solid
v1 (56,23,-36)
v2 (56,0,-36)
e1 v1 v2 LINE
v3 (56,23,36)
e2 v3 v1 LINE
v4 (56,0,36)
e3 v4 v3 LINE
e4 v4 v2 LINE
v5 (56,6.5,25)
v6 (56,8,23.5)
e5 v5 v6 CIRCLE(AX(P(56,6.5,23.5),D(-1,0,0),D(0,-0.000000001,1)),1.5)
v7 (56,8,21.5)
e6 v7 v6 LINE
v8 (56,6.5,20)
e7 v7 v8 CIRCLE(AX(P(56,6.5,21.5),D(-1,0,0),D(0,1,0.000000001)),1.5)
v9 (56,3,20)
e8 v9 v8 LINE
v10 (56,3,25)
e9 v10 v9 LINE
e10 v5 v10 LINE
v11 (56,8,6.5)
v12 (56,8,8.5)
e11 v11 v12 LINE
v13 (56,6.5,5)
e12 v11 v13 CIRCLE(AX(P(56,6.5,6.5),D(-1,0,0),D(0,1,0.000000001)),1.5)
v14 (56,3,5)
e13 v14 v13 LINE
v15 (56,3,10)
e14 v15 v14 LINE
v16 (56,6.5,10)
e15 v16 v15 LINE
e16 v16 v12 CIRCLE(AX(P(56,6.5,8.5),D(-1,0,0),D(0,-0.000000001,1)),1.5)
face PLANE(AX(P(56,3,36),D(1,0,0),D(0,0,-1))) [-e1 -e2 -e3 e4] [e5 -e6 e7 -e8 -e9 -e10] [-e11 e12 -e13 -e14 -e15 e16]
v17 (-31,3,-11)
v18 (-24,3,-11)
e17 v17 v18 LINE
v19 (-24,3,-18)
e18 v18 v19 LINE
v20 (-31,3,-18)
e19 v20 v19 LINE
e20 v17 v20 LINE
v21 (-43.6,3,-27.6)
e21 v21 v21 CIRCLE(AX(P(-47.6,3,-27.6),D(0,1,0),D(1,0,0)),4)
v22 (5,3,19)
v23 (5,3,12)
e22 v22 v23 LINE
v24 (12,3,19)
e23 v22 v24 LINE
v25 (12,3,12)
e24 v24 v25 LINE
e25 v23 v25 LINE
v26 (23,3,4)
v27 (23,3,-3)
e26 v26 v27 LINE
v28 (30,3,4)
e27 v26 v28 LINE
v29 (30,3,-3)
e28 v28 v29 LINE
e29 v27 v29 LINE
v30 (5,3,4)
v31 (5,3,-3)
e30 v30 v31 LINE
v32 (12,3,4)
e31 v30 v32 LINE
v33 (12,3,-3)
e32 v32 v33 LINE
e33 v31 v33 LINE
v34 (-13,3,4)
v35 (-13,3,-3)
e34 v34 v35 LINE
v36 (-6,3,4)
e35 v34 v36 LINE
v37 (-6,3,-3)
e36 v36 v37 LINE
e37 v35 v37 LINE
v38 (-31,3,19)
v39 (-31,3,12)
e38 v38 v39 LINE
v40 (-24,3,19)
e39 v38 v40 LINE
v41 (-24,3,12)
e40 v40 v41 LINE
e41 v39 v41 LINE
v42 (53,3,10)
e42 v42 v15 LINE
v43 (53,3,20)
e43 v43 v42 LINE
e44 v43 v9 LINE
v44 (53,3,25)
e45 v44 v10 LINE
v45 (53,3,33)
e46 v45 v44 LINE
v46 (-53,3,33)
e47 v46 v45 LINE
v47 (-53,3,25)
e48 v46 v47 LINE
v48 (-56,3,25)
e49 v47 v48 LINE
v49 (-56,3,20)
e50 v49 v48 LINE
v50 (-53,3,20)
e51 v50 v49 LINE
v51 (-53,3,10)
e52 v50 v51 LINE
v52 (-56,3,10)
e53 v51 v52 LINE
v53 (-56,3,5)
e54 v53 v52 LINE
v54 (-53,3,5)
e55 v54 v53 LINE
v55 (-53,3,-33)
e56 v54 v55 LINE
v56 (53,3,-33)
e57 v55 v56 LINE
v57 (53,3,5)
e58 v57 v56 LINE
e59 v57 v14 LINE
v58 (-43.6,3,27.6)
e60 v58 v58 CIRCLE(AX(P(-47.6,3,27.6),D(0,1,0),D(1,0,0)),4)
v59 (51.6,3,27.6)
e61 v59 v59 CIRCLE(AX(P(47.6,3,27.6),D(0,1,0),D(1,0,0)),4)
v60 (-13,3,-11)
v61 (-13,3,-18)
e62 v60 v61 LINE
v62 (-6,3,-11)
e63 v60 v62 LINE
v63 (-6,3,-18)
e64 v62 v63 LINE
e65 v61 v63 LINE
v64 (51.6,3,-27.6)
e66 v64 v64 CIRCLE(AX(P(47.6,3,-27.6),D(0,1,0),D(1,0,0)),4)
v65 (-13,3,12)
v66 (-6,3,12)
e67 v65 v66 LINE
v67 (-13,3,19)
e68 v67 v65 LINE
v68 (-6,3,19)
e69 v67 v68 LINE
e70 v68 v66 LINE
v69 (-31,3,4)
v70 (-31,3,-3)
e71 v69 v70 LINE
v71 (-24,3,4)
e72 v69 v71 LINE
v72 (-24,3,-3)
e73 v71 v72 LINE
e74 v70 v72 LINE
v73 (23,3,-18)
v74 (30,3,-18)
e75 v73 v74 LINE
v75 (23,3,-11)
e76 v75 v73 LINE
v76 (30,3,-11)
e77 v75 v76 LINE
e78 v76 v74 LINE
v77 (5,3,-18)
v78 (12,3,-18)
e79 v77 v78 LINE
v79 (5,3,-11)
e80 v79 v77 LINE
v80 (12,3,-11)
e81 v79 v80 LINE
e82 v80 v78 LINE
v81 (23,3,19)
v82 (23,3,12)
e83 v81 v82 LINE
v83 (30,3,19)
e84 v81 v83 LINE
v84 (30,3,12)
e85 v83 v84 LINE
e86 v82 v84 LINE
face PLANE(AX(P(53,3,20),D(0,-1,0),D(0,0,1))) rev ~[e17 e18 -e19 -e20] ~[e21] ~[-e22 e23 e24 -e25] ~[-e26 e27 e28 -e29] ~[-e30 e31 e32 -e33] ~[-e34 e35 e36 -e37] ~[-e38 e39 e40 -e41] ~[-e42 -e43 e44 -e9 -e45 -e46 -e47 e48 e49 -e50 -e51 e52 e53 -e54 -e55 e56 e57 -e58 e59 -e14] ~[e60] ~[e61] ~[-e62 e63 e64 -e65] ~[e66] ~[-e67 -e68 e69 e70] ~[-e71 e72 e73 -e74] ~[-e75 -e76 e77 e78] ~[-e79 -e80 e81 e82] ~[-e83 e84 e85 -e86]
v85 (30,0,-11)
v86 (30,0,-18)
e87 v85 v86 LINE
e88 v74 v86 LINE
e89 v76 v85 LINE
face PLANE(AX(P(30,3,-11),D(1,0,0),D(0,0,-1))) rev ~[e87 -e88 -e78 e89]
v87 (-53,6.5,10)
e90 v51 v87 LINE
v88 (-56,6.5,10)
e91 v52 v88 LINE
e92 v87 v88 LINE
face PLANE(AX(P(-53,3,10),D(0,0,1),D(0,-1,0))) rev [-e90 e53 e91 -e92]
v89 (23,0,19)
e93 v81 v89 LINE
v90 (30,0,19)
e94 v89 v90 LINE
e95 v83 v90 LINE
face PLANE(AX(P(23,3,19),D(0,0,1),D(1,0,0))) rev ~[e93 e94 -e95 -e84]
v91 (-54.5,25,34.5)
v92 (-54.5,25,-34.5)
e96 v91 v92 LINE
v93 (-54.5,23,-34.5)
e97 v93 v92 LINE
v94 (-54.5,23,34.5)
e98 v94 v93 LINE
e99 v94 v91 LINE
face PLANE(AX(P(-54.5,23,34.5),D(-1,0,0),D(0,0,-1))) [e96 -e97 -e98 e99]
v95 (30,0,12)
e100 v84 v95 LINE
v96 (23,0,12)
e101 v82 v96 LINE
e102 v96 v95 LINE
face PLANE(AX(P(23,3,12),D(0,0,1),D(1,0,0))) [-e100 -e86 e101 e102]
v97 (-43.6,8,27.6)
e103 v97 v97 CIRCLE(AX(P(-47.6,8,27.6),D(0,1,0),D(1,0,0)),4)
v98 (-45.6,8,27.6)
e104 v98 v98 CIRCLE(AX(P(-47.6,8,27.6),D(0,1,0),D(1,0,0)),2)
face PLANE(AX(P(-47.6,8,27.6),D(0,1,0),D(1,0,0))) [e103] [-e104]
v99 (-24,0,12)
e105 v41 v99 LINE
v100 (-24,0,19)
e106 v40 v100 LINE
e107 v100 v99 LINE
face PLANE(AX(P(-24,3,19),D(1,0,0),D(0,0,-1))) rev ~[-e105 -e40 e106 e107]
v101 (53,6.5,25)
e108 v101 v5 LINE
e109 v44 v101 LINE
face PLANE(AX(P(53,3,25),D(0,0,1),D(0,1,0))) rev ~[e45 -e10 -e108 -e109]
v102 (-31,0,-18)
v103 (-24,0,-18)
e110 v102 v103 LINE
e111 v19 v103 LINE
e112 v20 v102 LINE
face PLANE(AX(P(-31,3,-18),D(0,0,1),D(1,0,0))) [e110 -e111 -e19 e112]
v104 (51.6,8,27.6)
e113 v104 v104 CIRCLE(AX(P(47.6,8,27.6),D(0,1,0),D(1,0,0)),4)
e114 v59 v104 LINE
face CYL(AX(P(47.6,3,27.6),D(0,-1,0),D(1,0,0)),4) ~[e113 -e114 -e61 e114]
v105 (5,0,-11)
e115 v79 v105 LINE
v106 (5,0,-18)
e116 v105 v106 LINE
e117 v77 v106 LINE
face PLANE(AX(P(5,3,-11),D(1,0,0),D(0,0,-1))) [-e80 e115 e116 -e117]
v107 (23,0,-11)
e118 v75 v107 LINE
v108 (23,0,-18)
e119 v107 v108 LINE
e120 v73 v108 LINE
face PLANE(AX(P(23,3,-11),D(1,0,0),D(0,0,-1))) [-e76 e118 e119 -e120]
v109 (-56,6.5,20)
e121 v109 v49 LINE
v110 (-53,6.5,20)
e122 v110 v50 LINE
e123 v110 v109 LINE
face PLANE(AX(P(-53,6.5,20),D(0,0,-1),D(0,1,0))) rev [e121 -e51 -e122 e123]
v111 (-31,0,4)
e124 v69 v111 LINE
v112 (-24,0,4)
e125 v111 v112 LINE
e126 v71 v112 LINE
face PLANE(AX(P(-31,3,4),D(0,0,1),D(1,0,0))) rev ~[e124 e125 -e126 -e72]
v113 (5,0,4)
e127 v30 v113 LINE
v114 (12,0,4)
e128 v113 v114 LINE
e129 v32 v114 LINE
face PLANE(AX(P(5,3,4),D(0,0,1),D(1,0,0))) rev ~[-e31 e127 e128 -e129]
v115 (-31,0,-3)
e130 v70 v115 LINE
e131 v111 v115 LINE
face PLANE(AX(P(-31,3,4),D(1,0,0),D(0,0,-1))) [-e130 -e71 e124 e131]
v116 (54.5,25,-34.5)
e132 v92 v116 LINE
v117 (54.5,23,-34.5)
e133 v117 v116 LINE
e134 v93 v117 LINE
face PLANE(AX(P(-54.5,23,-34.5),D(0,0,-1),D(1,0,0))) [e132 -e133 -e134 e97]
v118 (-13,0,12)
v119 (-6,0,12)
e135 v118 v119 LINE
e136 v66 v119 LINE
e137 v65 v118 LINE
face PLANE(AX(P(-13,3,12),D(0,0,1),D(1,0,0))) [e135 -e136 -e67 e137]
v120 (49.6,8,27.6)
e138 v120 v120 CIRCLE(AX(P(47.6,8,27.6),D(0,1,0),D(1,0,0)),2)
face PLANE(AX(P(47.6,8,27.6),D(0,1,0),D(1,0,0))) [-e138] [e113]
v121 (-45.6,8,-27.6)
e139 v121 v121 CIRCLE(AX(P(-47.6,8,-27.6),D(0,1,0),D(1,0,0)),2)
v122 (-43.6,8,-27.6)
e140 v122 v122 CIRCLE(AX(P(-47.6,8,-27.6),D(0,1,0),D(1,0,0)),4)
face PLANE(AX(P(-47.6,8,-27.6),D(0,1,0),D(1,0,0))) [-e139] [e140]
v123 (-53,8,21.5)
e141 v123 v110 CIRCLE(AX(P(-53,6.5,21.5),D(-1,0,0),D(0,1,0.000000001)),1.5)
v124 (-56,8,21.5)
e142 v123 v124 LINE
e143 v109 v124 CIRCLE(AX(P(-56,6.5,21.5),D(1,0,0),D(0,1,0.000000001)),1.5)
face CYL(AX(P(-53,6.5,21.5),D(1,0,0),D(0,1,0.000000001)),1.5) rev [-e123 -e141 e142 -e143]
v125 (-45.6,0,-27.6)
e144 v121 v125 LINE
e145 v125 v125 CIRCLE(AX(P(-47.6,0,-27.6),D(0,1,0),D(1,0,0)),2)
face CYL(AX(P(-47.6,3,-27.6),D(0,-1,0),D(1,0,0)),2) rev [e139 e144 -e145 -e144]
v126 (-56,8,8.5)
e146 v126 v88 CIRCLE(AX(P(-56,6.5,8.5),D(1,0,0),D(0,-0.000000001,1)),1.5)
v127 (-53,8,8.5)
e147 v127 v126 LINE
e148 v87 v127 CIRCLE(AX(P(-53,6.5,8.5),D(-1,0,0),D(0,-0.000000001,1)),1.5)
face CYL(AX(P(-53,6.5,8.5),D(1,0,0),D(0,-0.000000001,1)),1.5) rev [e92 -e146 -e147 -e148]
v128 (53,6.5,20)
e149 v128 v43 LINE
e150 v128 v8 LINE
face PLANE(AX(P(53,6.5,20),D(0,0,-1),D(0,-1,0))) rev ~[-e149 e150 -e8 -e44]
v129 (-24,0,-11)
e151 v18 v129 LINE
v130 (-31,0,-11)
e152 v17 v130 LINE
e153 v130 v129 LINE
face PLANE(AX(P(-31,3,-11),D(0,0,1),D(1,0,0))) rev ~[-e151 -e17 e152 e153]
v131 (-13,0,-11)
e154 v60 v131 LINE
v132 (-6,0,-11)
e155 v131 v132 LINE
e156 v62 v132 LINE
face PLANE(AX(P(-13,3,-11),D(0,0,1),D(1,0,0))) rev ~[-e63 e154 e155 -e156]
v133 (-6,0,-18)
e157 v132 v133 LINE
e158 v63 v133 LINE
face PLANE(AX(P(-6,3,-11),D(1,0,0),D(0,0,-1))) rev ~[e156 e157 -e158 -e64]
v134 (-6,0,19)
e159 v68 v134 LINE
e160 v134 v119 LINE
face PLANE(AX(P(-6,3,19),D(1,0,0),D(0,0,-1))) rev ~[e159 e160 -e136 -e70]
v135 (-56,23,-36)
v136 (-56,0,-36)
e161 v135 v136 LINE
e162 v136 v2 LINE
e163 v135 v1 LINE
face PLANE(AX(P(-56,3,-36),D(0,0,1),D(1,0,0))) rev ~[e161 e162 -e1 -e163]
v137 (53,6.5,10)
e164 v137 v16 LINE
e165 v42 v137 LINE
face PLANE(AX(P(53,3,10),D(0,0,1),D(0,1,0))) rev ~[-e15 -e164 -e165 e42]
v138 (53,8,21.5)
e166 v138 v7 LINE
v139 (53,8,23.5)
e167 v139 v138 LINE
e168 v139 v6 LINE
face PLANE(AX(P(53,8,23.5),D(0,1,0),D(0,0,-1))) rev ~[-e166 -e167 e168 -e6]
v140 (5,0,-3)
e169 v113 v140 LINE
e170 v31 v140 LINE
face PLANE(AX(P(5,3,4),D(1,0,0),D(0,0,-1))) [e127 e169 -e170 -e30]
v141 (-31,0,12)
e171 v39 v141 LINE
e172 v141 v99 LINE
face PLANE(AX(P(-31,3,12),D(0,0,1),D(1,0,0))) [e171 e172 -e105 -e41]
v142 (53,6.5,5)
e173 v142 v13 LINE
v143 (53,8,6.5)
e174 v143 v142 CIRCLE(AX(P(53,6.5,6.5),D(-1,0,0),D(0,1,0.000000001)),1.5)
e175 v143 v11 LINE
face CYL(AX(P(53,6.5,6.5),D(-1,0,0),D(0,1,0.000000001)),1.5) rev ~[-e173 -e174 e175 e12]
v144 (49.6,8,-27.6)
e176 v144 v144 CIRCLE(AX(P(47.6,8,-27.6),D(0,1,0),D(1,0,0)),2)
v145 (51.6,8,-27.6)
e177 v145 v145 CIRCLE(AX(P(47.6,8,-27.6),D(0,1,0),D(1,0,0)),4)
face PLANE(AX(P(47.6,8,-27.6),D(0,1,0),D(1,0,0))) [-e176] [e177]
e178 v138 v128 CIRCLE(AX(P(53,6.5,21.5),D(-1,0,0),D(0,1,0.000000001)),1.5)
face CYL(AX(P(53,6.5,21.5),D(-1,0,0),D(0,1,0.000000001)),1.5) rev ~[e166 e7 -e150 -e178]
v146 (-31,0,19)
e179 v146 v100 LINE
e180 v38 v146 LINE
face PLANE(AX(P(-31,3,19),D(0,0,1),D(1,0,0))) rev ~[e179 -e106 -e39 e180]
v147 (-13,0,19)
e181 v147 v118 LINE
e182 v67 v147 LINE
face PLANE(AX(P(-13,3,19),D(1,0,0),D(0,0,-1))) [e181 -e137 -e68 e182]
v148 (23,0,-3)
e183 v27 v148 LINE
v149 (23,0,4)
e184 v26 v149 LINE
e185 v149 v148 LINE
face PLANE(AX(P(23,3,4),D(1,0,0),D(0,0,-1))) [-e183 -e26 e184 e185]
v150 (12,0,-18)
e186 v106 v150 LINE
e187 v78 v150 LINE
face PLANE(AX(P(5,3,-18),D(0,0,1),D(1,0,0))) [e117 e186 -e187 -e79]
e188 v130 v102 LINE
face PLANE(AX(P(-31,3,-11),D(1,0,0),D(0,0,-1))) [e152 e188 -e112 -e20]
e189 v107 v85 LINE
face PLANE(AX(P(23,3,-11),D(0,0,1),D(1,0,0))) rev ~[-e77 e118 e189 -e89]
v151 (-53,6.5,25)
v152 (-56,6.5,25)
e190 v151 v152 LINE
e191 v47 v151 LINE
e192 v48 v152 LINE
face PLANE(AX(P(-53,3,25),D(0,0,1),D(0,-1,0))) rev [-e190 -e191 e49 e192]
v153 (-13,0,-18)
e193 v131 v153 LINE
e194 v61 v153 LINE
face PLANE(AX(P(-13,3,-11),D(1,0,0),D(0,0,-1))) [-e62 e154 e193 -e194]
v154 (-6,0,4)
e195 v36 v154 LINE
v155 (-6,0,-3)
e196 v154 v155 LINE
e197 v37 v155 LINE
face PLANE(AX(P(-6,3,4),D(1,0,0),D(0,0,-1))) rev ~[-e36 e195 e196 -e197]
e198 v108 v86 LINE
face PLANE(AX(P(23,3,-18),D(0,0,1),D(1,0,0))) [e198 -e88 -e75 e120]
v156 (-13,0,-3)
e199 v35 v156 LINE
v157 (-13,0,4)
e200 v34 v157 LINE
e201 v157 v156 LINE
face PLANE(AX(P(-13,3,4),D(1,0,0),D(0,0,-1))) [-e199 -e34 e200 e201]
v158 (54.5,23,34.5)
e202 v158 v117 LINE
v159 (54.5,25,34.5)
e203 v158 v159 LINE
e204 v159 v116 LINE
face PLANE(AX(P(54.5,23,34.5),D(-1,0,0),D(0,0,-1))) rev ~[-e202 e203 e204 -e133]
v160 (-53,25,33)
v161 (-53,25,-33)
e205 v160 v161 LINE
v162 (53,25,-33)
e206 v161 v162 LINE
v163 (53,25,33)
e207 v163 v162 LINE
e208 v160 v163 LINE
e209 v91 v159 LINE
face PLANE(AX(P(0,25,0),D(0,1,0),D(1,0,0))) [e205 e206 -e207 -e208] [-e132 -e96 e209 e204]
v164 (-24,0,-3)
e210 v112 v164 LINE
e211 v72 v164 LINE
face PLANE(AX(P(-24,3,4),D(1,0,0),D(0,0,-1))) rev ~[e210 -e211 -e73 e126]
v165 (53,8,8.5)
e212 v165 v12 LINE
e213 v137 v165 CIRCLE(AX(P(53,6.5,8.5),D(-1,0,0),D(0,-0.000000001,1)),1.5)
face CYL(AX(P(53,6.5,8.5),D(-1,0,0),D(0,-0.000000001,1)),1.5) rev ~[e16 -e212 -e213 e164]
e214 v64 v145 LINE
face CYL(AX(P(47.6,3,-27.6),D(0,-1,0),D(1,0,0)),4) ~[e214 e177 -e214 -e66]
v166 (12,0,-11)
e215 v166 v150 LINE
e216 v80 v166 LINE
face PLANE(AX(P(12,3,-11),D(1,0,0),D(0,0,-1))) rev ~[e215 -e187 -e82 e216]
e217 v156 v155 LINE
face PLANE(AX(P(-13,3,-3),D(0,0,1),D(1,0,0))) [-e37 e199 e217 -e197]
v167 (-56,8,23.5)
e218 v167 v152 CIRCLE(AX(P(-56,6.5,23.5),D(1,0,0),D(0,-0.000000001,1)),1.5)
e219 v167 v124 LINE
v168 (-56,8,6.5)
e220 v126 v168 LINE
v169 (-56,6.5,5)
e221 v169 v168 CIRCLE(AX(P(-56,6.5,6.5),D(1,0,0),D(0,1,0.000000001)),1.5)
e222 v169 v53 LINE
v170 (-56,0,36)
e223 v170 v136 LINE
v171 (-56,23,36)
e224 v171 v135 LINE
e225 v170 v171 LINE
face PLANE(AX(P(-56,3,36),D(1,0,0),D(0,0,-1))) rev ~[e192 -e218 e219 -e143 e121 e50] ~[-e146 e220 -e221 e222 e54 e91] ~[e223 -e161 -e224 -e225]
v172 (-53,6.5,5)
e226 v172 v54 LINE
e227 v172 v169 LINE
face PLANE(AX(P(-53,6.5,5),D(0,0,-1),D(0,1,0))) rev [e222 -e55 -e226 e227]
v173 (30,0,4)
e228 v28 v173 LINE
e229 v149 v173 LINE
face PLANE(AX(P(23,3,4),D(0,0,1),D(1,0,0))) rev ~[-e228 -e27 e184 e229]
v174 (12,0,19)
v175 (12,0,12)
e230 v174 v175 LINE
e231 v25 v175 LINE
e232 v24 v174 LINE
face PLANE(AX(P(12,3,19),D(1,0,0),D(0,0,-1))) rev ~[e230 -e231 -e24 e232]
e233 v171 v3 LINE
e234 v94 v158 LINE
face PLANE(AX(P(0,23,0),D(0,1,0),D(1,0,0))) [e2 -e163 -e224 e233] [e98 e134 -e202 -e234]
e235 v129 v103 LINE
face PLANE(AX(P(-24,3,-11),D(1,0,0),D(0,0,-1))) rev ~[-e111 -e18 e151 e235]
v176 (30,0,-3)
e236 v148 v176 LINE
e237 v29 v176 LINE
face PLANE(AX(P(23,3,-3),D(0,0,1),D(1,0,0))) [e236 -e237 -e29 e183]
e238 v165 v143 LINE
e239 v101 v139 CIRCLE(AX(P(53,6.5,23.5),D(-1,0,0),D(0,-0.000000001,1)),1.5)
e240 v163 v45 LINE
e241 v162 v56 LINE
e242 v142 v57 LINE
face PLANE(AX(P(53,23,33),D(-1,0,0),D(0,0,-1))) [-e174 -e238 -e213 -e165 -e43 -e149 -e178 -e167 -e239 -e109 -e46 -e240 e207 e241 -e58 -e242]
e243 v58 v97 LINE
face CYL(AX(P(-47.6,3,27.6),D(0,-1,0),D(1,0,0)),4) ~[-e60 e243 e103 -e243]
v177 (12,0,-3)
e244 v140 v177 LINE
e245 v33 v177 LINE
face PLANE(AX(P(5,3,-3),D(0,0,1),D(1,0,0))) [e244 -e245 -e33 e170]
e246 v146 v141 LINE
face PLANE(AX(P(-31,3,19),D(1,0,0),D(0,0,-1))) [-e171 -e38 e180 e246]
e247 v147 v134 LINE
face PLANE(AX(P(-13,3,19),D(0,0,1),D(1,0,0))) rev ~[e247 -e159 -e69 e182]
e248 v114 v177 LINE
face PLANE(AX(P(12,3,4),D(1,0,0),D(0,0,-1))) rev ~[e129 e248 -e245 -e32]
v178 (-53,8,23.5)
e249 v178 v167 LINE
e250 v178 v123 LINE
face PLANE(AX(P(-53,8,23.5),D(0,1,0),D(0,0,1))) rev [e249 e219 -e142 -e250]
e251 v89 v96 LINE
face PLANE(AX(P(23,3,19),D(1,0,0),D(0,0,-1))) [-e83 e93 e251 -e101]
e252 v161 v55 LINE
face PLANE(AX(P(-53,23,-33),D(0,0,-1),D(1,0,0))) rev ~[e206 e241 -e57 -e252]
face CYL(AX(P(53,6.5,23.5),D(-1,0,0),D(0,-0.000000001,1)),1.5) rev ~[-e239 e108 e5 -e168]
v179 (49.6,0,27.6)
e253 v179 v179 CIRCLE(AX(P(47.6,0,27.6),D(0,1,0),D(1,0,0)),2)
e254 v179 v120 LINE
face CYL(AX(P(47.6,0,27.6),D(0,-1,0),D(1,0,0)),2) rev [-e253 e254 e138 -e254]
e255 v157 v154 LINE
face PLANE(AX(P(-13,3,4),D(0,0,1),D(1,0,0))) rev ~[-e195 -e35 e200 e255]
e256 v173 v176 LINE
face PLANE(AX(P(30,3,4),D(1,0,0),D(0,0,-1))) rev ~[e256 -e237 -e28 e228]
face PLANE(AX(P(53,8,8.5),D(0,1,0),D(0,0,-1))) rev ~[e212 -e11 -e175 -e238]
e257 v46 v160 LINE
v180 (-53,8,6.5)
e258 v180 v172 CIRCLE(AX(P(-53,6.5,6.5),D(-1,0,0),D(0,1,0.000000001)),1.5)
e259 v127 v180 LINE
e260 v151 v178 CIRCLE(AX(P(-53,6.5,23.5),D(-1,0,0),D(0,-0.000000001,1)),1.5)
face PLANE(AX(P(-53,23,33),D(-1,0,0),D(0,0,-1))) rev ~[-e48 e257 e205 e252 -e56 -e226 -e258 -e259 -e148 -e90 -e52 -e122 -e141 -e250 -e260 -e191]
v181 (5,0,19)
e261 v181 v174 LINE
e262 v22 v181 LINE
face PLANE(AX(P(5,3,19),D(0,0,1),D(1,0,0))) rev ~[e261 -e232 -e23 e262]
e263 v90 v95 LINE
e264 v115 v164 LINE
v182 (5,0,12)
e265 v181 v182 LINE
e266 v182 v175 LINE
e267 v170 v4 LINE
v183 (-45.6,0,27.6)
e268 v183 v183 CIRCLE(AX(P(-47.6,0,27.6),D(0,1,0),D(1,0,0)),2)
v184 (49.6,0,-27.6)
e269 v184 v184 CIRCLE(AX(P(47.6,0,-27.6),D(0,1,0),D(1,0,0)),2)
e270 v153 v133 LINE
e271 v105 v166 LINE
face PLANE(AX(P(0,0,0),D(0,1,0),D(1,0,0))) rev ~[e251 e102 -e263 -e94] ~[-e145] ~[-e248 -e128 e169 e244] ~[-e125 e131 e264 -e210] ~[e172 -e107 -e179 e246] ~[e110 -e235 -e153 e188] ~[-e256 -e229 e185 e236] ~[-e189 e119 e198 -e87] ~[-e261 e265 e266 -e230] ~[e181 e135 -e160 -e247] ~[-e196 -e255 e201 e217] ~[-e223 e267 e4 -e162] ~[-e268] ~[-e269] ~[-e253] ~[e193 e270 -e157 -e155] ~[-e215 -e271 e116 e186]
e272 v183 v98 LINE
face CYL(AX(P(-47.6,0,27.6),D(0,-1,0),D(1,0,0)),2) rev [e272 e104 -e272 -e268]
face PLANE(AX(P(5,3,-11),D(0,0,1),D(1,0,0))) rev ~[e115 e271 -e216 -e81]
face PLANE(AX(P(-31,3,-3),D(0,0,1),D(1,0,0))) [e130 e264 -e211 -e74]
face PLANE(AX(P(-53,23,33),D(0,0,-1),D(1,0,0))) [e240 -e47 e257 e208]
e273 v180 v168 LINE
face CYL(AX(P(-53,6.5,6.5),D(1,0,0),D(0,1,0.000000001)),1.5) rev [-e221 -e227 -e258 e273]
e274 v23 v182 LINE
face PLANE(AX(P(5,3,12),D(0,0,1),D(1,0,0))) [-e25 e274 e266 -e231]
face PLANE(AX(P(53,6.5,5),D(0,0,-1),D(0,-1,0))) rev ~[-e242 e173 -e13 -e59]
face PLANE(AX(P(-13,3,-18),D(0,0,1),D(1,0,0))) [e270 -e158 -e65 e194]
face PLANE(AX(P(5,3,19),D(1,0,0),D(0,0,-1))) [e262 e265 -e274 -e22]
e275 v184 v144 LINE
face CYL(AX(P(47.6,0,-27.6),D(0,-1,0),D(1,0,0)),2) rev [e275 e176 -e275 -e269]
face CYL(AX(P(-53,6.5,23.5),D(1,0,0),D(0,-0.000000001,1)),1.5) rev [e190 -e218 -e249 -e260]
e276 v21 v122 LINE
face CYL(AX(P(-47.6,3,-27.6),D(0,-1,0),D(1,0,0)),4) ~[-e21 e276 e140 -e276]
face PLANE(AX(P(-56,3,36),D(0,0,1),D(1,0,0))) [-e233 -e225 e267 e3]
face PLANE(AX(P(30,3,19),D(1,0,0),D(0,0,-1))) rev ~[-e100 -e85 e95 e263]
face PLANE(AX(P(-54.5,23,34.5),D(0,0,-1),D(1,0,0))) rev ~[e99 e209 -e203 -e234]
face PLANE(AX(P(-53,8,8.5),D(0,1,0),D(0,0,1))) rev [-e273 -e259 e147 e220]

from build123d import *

# Parameters (mm, degrees)
SKETCH1_W                = 106
SKETCH1_H                = 66
SKETCH1_R                = 2
BOSS_EXTRUDE1_DEPTH      = 3
SKETCH2_W                = 112
SKETCH2_H                = 72
SKETCH2_W_2              = 106
SKETCH2_H_2              = 66
BOSS_EXTRUDE2_DEPTH      = 20
BOSS_EXTRUDE2_DEPTH_BACK = 3
SKETCH4_W                = 109
SKETCH4_H                = 69
SKETCH4_W_2              = 106
SKETCH4_H_2              = 66
BOSS_EXTRUDE3_DEPTH      = 2
CUT_EXTRUDE1_DEPTH       = 4
SKETCH6_R                = 4
SKETCH6_R_2              = 2
BOSS_EXTRUDE4_DEPTH      = 5
SKETCH7_W                = 7
SKETCH7_H                = 7
CUT_EXTRUDE2_DEPTH       = 4


with BuildPart() as part:
    # Sketch1 → Boss-Extrude1 (new body)
    with BuildSketch(Plane(origin=(0, 0, 0), x_dir=(1, 0, 0), z_dir=(0, 1, 0))):
        Rectangle(SKETCH1_W, SKETCH1_H)
        with Locations((-47.6, 27.6)):
            Circle(SKETCH1_R, mode=Mode.SUBTRACT)
        with Locations((47.6, 27.6)):
            Circle(SKETCH1_R, mode=Mode.SUBTRACT)
        with Locations((47.6, -27.6)):
            Circle(SKETCH1_R, mode=Mode.SUBTRACT)
        with Locations((-47.6, -27.6)):
            Circle(SKETCH1_R, mode=Mode.SUBTRACT)
    extrude(amount=BOSS_EXTRUDE1_DEPTH)

    # Sketch2 → Boss-Extrude2 (add, two sides)
    with BuildSketch(Plane(origin=(0, 3, 0), x_dir=(1, 0, 0), z_dir=(0, 1, 0))) as boss_extrude2_sk:
        Rectangle(SKETCH2_W, SKETCH2_H)
        Rectangle(SKETCH2_W_2, SKETCH2_H_2, mode=Mode.SUBTRACT)
    extrude(amount=BOSS_EXTRUDE2_DEPTH)
    extrude(boss_extrude2_sk.sketch, amount=-BOSS_EXTRUDE2_DEPTH_BACK)

    # Sketch4 → Boss-Extrude3 (add)
    with BuildSketch(Plane(origin=(0, 23, 0), x_dir=(1, 0, 0), z_dir=(0, 1, 0))):
        Rectangle(SKETCH4_W, SKETCH4_H)
        Rectangle(SKETCH4_W_2, SKETCH4_H_2, mode=Mode.SUBTRACT)
    extrude(amount=BOSS_EXTRUDE3_DEPTH)

    # Sketch5 → Cut-Extrude1 (cut, through all)
    with BuildSketch(Plane.ZY.offset(-53)):
        with BuildLine():
            Line((5, 3), (10, 3))
            Line((10, 3), (10, 6.5))
            ThreePointArc((10, 6.5), (9.560660172, 7.560660172), (8.5, 8))
            Line((8.5, 8), (6.5, 8))
            ThreePointArc((6.5, 8), (5.439339828, 7.560660172), (5, 6.5))
            Line((5, 6.5), (5, 3))
        make_face()
        with BuildLine():
            Line((20, 3), (25, 3))
            Line((25, 3), (25, 6.5))
            ThreePointArc((25, 6.5), (24.560660172, 7.560660172), (23.5, 8))
            Line((23.5, 8), (21.5, 8))
            ThreePointArc((21.5, 8), (20.439339828, 7.560660172), (20, 6.5))
            Line((20, 6.5), (20, 3))
        make_face()
    cut_extrude1 = extrude(amount=-CUT_EXTRUDE1_DEPTH, mode=Mode.SUBTRACT)

    # Sketch6 → Boss-Extrude4 (add)
    with BuildSketch(Plane(origin=(0, 3, 0), x_dir=(1, 0, 0), z_dir=(0, 1, 0))):
        with Locations((-47.6, 27.6)):
            Circle(SKETCH6_R)
        with Locations((-47.6, 27.6)):
            Circle(SKETCH6_R_2, mode=Mode.SUBTRACT)
        with Locations((47.6, 27.6)):
            Circle(SKETCH6_R)
        with Locations((47.6, 27.6)):
            Circle(SKETCH6_R_2, mode=Mode.SUBTRACT)
        with Locations((47.6, -27.6)):
            Circle(SKETCH6_R)
        with Locations((47.6, -27.6)):
            Circle(SKETCH6_R_2, mode=Mode.SUBTRACT)
        with Locations((-47.6, -27.6)):
            Circle(SKETCH6_R)
        with Locations((-47.6, -27.6)):
            Circle(SKETCH6_R_2, mode=Mode.SUBTRACT)
    extrude(amount=BOSS_EXTRUDE4_DEPTH)

    # Sketch7 → Cut-Extrude2 (cut, through all)
    with BuildSketch(Plane(origin=(0, 3, 0), x_dir=(1, 0, 0), z_dir=(0, 1, 0))):
        with Locations((-9.5, 14.5)):
            Rectangle(SKETCH7_W, SKETCH7_H)
        with Locations((-27.5, 14.5)):
            Rectangle(SKETCH7_W, SKETCH7_H)
        with Locations((8.5, 14.5)):
            Rectangle(SKETCH7_W, SKETCH7_H)
        with Locations((26.5, 14.5)):
            Rectangle(SKETCH7_W, SKETCH7_H)
        with Locations((-9.5, -0.5)):
            Rectangle(SKETCH7_W, SKETCH7_H)
        with Locations((8.5, -0.5)):
            Rectangle(SKETCH7_W, SKETCH7_H)
        with Locations((26.5, -0.5)):
            Rectangle(SKETCH7_W, SKETCH7_H)
        with Locations((-9.5, -15.5)):
            Rectangle(SKETCH7_W, SKETCH7_H)
        with Locations((8.5, -15.5)):
            Rectangle(SKETCH7_W, SKETCH7_H)
        with Locations((26.5, -15.5)):
            Rectangle(SKETCH7_W, SKETCH7_H)
        with Locations((-27.5, -0.5)):
            Rectangle(SKETCH7_W, SKETCH7_H)
        with Locations((-27.5, -15.5)):
            Rectangle(SKETCH7_W, SKETCH7_H)
    extrude(amount=-CUT_EXTRUDE2_DEPTH, mode=Mode.SUBTRACT)

    # Mirror1: Cut-Extrude1 across plane
    add(cut_extrude1.mirror(Plane(origin=(0, 0, 0), x_dir=(0, 0, 1), z_dir=(1, 0, 0))), mode=Mode.SUBTRACT)


solid = part.part
